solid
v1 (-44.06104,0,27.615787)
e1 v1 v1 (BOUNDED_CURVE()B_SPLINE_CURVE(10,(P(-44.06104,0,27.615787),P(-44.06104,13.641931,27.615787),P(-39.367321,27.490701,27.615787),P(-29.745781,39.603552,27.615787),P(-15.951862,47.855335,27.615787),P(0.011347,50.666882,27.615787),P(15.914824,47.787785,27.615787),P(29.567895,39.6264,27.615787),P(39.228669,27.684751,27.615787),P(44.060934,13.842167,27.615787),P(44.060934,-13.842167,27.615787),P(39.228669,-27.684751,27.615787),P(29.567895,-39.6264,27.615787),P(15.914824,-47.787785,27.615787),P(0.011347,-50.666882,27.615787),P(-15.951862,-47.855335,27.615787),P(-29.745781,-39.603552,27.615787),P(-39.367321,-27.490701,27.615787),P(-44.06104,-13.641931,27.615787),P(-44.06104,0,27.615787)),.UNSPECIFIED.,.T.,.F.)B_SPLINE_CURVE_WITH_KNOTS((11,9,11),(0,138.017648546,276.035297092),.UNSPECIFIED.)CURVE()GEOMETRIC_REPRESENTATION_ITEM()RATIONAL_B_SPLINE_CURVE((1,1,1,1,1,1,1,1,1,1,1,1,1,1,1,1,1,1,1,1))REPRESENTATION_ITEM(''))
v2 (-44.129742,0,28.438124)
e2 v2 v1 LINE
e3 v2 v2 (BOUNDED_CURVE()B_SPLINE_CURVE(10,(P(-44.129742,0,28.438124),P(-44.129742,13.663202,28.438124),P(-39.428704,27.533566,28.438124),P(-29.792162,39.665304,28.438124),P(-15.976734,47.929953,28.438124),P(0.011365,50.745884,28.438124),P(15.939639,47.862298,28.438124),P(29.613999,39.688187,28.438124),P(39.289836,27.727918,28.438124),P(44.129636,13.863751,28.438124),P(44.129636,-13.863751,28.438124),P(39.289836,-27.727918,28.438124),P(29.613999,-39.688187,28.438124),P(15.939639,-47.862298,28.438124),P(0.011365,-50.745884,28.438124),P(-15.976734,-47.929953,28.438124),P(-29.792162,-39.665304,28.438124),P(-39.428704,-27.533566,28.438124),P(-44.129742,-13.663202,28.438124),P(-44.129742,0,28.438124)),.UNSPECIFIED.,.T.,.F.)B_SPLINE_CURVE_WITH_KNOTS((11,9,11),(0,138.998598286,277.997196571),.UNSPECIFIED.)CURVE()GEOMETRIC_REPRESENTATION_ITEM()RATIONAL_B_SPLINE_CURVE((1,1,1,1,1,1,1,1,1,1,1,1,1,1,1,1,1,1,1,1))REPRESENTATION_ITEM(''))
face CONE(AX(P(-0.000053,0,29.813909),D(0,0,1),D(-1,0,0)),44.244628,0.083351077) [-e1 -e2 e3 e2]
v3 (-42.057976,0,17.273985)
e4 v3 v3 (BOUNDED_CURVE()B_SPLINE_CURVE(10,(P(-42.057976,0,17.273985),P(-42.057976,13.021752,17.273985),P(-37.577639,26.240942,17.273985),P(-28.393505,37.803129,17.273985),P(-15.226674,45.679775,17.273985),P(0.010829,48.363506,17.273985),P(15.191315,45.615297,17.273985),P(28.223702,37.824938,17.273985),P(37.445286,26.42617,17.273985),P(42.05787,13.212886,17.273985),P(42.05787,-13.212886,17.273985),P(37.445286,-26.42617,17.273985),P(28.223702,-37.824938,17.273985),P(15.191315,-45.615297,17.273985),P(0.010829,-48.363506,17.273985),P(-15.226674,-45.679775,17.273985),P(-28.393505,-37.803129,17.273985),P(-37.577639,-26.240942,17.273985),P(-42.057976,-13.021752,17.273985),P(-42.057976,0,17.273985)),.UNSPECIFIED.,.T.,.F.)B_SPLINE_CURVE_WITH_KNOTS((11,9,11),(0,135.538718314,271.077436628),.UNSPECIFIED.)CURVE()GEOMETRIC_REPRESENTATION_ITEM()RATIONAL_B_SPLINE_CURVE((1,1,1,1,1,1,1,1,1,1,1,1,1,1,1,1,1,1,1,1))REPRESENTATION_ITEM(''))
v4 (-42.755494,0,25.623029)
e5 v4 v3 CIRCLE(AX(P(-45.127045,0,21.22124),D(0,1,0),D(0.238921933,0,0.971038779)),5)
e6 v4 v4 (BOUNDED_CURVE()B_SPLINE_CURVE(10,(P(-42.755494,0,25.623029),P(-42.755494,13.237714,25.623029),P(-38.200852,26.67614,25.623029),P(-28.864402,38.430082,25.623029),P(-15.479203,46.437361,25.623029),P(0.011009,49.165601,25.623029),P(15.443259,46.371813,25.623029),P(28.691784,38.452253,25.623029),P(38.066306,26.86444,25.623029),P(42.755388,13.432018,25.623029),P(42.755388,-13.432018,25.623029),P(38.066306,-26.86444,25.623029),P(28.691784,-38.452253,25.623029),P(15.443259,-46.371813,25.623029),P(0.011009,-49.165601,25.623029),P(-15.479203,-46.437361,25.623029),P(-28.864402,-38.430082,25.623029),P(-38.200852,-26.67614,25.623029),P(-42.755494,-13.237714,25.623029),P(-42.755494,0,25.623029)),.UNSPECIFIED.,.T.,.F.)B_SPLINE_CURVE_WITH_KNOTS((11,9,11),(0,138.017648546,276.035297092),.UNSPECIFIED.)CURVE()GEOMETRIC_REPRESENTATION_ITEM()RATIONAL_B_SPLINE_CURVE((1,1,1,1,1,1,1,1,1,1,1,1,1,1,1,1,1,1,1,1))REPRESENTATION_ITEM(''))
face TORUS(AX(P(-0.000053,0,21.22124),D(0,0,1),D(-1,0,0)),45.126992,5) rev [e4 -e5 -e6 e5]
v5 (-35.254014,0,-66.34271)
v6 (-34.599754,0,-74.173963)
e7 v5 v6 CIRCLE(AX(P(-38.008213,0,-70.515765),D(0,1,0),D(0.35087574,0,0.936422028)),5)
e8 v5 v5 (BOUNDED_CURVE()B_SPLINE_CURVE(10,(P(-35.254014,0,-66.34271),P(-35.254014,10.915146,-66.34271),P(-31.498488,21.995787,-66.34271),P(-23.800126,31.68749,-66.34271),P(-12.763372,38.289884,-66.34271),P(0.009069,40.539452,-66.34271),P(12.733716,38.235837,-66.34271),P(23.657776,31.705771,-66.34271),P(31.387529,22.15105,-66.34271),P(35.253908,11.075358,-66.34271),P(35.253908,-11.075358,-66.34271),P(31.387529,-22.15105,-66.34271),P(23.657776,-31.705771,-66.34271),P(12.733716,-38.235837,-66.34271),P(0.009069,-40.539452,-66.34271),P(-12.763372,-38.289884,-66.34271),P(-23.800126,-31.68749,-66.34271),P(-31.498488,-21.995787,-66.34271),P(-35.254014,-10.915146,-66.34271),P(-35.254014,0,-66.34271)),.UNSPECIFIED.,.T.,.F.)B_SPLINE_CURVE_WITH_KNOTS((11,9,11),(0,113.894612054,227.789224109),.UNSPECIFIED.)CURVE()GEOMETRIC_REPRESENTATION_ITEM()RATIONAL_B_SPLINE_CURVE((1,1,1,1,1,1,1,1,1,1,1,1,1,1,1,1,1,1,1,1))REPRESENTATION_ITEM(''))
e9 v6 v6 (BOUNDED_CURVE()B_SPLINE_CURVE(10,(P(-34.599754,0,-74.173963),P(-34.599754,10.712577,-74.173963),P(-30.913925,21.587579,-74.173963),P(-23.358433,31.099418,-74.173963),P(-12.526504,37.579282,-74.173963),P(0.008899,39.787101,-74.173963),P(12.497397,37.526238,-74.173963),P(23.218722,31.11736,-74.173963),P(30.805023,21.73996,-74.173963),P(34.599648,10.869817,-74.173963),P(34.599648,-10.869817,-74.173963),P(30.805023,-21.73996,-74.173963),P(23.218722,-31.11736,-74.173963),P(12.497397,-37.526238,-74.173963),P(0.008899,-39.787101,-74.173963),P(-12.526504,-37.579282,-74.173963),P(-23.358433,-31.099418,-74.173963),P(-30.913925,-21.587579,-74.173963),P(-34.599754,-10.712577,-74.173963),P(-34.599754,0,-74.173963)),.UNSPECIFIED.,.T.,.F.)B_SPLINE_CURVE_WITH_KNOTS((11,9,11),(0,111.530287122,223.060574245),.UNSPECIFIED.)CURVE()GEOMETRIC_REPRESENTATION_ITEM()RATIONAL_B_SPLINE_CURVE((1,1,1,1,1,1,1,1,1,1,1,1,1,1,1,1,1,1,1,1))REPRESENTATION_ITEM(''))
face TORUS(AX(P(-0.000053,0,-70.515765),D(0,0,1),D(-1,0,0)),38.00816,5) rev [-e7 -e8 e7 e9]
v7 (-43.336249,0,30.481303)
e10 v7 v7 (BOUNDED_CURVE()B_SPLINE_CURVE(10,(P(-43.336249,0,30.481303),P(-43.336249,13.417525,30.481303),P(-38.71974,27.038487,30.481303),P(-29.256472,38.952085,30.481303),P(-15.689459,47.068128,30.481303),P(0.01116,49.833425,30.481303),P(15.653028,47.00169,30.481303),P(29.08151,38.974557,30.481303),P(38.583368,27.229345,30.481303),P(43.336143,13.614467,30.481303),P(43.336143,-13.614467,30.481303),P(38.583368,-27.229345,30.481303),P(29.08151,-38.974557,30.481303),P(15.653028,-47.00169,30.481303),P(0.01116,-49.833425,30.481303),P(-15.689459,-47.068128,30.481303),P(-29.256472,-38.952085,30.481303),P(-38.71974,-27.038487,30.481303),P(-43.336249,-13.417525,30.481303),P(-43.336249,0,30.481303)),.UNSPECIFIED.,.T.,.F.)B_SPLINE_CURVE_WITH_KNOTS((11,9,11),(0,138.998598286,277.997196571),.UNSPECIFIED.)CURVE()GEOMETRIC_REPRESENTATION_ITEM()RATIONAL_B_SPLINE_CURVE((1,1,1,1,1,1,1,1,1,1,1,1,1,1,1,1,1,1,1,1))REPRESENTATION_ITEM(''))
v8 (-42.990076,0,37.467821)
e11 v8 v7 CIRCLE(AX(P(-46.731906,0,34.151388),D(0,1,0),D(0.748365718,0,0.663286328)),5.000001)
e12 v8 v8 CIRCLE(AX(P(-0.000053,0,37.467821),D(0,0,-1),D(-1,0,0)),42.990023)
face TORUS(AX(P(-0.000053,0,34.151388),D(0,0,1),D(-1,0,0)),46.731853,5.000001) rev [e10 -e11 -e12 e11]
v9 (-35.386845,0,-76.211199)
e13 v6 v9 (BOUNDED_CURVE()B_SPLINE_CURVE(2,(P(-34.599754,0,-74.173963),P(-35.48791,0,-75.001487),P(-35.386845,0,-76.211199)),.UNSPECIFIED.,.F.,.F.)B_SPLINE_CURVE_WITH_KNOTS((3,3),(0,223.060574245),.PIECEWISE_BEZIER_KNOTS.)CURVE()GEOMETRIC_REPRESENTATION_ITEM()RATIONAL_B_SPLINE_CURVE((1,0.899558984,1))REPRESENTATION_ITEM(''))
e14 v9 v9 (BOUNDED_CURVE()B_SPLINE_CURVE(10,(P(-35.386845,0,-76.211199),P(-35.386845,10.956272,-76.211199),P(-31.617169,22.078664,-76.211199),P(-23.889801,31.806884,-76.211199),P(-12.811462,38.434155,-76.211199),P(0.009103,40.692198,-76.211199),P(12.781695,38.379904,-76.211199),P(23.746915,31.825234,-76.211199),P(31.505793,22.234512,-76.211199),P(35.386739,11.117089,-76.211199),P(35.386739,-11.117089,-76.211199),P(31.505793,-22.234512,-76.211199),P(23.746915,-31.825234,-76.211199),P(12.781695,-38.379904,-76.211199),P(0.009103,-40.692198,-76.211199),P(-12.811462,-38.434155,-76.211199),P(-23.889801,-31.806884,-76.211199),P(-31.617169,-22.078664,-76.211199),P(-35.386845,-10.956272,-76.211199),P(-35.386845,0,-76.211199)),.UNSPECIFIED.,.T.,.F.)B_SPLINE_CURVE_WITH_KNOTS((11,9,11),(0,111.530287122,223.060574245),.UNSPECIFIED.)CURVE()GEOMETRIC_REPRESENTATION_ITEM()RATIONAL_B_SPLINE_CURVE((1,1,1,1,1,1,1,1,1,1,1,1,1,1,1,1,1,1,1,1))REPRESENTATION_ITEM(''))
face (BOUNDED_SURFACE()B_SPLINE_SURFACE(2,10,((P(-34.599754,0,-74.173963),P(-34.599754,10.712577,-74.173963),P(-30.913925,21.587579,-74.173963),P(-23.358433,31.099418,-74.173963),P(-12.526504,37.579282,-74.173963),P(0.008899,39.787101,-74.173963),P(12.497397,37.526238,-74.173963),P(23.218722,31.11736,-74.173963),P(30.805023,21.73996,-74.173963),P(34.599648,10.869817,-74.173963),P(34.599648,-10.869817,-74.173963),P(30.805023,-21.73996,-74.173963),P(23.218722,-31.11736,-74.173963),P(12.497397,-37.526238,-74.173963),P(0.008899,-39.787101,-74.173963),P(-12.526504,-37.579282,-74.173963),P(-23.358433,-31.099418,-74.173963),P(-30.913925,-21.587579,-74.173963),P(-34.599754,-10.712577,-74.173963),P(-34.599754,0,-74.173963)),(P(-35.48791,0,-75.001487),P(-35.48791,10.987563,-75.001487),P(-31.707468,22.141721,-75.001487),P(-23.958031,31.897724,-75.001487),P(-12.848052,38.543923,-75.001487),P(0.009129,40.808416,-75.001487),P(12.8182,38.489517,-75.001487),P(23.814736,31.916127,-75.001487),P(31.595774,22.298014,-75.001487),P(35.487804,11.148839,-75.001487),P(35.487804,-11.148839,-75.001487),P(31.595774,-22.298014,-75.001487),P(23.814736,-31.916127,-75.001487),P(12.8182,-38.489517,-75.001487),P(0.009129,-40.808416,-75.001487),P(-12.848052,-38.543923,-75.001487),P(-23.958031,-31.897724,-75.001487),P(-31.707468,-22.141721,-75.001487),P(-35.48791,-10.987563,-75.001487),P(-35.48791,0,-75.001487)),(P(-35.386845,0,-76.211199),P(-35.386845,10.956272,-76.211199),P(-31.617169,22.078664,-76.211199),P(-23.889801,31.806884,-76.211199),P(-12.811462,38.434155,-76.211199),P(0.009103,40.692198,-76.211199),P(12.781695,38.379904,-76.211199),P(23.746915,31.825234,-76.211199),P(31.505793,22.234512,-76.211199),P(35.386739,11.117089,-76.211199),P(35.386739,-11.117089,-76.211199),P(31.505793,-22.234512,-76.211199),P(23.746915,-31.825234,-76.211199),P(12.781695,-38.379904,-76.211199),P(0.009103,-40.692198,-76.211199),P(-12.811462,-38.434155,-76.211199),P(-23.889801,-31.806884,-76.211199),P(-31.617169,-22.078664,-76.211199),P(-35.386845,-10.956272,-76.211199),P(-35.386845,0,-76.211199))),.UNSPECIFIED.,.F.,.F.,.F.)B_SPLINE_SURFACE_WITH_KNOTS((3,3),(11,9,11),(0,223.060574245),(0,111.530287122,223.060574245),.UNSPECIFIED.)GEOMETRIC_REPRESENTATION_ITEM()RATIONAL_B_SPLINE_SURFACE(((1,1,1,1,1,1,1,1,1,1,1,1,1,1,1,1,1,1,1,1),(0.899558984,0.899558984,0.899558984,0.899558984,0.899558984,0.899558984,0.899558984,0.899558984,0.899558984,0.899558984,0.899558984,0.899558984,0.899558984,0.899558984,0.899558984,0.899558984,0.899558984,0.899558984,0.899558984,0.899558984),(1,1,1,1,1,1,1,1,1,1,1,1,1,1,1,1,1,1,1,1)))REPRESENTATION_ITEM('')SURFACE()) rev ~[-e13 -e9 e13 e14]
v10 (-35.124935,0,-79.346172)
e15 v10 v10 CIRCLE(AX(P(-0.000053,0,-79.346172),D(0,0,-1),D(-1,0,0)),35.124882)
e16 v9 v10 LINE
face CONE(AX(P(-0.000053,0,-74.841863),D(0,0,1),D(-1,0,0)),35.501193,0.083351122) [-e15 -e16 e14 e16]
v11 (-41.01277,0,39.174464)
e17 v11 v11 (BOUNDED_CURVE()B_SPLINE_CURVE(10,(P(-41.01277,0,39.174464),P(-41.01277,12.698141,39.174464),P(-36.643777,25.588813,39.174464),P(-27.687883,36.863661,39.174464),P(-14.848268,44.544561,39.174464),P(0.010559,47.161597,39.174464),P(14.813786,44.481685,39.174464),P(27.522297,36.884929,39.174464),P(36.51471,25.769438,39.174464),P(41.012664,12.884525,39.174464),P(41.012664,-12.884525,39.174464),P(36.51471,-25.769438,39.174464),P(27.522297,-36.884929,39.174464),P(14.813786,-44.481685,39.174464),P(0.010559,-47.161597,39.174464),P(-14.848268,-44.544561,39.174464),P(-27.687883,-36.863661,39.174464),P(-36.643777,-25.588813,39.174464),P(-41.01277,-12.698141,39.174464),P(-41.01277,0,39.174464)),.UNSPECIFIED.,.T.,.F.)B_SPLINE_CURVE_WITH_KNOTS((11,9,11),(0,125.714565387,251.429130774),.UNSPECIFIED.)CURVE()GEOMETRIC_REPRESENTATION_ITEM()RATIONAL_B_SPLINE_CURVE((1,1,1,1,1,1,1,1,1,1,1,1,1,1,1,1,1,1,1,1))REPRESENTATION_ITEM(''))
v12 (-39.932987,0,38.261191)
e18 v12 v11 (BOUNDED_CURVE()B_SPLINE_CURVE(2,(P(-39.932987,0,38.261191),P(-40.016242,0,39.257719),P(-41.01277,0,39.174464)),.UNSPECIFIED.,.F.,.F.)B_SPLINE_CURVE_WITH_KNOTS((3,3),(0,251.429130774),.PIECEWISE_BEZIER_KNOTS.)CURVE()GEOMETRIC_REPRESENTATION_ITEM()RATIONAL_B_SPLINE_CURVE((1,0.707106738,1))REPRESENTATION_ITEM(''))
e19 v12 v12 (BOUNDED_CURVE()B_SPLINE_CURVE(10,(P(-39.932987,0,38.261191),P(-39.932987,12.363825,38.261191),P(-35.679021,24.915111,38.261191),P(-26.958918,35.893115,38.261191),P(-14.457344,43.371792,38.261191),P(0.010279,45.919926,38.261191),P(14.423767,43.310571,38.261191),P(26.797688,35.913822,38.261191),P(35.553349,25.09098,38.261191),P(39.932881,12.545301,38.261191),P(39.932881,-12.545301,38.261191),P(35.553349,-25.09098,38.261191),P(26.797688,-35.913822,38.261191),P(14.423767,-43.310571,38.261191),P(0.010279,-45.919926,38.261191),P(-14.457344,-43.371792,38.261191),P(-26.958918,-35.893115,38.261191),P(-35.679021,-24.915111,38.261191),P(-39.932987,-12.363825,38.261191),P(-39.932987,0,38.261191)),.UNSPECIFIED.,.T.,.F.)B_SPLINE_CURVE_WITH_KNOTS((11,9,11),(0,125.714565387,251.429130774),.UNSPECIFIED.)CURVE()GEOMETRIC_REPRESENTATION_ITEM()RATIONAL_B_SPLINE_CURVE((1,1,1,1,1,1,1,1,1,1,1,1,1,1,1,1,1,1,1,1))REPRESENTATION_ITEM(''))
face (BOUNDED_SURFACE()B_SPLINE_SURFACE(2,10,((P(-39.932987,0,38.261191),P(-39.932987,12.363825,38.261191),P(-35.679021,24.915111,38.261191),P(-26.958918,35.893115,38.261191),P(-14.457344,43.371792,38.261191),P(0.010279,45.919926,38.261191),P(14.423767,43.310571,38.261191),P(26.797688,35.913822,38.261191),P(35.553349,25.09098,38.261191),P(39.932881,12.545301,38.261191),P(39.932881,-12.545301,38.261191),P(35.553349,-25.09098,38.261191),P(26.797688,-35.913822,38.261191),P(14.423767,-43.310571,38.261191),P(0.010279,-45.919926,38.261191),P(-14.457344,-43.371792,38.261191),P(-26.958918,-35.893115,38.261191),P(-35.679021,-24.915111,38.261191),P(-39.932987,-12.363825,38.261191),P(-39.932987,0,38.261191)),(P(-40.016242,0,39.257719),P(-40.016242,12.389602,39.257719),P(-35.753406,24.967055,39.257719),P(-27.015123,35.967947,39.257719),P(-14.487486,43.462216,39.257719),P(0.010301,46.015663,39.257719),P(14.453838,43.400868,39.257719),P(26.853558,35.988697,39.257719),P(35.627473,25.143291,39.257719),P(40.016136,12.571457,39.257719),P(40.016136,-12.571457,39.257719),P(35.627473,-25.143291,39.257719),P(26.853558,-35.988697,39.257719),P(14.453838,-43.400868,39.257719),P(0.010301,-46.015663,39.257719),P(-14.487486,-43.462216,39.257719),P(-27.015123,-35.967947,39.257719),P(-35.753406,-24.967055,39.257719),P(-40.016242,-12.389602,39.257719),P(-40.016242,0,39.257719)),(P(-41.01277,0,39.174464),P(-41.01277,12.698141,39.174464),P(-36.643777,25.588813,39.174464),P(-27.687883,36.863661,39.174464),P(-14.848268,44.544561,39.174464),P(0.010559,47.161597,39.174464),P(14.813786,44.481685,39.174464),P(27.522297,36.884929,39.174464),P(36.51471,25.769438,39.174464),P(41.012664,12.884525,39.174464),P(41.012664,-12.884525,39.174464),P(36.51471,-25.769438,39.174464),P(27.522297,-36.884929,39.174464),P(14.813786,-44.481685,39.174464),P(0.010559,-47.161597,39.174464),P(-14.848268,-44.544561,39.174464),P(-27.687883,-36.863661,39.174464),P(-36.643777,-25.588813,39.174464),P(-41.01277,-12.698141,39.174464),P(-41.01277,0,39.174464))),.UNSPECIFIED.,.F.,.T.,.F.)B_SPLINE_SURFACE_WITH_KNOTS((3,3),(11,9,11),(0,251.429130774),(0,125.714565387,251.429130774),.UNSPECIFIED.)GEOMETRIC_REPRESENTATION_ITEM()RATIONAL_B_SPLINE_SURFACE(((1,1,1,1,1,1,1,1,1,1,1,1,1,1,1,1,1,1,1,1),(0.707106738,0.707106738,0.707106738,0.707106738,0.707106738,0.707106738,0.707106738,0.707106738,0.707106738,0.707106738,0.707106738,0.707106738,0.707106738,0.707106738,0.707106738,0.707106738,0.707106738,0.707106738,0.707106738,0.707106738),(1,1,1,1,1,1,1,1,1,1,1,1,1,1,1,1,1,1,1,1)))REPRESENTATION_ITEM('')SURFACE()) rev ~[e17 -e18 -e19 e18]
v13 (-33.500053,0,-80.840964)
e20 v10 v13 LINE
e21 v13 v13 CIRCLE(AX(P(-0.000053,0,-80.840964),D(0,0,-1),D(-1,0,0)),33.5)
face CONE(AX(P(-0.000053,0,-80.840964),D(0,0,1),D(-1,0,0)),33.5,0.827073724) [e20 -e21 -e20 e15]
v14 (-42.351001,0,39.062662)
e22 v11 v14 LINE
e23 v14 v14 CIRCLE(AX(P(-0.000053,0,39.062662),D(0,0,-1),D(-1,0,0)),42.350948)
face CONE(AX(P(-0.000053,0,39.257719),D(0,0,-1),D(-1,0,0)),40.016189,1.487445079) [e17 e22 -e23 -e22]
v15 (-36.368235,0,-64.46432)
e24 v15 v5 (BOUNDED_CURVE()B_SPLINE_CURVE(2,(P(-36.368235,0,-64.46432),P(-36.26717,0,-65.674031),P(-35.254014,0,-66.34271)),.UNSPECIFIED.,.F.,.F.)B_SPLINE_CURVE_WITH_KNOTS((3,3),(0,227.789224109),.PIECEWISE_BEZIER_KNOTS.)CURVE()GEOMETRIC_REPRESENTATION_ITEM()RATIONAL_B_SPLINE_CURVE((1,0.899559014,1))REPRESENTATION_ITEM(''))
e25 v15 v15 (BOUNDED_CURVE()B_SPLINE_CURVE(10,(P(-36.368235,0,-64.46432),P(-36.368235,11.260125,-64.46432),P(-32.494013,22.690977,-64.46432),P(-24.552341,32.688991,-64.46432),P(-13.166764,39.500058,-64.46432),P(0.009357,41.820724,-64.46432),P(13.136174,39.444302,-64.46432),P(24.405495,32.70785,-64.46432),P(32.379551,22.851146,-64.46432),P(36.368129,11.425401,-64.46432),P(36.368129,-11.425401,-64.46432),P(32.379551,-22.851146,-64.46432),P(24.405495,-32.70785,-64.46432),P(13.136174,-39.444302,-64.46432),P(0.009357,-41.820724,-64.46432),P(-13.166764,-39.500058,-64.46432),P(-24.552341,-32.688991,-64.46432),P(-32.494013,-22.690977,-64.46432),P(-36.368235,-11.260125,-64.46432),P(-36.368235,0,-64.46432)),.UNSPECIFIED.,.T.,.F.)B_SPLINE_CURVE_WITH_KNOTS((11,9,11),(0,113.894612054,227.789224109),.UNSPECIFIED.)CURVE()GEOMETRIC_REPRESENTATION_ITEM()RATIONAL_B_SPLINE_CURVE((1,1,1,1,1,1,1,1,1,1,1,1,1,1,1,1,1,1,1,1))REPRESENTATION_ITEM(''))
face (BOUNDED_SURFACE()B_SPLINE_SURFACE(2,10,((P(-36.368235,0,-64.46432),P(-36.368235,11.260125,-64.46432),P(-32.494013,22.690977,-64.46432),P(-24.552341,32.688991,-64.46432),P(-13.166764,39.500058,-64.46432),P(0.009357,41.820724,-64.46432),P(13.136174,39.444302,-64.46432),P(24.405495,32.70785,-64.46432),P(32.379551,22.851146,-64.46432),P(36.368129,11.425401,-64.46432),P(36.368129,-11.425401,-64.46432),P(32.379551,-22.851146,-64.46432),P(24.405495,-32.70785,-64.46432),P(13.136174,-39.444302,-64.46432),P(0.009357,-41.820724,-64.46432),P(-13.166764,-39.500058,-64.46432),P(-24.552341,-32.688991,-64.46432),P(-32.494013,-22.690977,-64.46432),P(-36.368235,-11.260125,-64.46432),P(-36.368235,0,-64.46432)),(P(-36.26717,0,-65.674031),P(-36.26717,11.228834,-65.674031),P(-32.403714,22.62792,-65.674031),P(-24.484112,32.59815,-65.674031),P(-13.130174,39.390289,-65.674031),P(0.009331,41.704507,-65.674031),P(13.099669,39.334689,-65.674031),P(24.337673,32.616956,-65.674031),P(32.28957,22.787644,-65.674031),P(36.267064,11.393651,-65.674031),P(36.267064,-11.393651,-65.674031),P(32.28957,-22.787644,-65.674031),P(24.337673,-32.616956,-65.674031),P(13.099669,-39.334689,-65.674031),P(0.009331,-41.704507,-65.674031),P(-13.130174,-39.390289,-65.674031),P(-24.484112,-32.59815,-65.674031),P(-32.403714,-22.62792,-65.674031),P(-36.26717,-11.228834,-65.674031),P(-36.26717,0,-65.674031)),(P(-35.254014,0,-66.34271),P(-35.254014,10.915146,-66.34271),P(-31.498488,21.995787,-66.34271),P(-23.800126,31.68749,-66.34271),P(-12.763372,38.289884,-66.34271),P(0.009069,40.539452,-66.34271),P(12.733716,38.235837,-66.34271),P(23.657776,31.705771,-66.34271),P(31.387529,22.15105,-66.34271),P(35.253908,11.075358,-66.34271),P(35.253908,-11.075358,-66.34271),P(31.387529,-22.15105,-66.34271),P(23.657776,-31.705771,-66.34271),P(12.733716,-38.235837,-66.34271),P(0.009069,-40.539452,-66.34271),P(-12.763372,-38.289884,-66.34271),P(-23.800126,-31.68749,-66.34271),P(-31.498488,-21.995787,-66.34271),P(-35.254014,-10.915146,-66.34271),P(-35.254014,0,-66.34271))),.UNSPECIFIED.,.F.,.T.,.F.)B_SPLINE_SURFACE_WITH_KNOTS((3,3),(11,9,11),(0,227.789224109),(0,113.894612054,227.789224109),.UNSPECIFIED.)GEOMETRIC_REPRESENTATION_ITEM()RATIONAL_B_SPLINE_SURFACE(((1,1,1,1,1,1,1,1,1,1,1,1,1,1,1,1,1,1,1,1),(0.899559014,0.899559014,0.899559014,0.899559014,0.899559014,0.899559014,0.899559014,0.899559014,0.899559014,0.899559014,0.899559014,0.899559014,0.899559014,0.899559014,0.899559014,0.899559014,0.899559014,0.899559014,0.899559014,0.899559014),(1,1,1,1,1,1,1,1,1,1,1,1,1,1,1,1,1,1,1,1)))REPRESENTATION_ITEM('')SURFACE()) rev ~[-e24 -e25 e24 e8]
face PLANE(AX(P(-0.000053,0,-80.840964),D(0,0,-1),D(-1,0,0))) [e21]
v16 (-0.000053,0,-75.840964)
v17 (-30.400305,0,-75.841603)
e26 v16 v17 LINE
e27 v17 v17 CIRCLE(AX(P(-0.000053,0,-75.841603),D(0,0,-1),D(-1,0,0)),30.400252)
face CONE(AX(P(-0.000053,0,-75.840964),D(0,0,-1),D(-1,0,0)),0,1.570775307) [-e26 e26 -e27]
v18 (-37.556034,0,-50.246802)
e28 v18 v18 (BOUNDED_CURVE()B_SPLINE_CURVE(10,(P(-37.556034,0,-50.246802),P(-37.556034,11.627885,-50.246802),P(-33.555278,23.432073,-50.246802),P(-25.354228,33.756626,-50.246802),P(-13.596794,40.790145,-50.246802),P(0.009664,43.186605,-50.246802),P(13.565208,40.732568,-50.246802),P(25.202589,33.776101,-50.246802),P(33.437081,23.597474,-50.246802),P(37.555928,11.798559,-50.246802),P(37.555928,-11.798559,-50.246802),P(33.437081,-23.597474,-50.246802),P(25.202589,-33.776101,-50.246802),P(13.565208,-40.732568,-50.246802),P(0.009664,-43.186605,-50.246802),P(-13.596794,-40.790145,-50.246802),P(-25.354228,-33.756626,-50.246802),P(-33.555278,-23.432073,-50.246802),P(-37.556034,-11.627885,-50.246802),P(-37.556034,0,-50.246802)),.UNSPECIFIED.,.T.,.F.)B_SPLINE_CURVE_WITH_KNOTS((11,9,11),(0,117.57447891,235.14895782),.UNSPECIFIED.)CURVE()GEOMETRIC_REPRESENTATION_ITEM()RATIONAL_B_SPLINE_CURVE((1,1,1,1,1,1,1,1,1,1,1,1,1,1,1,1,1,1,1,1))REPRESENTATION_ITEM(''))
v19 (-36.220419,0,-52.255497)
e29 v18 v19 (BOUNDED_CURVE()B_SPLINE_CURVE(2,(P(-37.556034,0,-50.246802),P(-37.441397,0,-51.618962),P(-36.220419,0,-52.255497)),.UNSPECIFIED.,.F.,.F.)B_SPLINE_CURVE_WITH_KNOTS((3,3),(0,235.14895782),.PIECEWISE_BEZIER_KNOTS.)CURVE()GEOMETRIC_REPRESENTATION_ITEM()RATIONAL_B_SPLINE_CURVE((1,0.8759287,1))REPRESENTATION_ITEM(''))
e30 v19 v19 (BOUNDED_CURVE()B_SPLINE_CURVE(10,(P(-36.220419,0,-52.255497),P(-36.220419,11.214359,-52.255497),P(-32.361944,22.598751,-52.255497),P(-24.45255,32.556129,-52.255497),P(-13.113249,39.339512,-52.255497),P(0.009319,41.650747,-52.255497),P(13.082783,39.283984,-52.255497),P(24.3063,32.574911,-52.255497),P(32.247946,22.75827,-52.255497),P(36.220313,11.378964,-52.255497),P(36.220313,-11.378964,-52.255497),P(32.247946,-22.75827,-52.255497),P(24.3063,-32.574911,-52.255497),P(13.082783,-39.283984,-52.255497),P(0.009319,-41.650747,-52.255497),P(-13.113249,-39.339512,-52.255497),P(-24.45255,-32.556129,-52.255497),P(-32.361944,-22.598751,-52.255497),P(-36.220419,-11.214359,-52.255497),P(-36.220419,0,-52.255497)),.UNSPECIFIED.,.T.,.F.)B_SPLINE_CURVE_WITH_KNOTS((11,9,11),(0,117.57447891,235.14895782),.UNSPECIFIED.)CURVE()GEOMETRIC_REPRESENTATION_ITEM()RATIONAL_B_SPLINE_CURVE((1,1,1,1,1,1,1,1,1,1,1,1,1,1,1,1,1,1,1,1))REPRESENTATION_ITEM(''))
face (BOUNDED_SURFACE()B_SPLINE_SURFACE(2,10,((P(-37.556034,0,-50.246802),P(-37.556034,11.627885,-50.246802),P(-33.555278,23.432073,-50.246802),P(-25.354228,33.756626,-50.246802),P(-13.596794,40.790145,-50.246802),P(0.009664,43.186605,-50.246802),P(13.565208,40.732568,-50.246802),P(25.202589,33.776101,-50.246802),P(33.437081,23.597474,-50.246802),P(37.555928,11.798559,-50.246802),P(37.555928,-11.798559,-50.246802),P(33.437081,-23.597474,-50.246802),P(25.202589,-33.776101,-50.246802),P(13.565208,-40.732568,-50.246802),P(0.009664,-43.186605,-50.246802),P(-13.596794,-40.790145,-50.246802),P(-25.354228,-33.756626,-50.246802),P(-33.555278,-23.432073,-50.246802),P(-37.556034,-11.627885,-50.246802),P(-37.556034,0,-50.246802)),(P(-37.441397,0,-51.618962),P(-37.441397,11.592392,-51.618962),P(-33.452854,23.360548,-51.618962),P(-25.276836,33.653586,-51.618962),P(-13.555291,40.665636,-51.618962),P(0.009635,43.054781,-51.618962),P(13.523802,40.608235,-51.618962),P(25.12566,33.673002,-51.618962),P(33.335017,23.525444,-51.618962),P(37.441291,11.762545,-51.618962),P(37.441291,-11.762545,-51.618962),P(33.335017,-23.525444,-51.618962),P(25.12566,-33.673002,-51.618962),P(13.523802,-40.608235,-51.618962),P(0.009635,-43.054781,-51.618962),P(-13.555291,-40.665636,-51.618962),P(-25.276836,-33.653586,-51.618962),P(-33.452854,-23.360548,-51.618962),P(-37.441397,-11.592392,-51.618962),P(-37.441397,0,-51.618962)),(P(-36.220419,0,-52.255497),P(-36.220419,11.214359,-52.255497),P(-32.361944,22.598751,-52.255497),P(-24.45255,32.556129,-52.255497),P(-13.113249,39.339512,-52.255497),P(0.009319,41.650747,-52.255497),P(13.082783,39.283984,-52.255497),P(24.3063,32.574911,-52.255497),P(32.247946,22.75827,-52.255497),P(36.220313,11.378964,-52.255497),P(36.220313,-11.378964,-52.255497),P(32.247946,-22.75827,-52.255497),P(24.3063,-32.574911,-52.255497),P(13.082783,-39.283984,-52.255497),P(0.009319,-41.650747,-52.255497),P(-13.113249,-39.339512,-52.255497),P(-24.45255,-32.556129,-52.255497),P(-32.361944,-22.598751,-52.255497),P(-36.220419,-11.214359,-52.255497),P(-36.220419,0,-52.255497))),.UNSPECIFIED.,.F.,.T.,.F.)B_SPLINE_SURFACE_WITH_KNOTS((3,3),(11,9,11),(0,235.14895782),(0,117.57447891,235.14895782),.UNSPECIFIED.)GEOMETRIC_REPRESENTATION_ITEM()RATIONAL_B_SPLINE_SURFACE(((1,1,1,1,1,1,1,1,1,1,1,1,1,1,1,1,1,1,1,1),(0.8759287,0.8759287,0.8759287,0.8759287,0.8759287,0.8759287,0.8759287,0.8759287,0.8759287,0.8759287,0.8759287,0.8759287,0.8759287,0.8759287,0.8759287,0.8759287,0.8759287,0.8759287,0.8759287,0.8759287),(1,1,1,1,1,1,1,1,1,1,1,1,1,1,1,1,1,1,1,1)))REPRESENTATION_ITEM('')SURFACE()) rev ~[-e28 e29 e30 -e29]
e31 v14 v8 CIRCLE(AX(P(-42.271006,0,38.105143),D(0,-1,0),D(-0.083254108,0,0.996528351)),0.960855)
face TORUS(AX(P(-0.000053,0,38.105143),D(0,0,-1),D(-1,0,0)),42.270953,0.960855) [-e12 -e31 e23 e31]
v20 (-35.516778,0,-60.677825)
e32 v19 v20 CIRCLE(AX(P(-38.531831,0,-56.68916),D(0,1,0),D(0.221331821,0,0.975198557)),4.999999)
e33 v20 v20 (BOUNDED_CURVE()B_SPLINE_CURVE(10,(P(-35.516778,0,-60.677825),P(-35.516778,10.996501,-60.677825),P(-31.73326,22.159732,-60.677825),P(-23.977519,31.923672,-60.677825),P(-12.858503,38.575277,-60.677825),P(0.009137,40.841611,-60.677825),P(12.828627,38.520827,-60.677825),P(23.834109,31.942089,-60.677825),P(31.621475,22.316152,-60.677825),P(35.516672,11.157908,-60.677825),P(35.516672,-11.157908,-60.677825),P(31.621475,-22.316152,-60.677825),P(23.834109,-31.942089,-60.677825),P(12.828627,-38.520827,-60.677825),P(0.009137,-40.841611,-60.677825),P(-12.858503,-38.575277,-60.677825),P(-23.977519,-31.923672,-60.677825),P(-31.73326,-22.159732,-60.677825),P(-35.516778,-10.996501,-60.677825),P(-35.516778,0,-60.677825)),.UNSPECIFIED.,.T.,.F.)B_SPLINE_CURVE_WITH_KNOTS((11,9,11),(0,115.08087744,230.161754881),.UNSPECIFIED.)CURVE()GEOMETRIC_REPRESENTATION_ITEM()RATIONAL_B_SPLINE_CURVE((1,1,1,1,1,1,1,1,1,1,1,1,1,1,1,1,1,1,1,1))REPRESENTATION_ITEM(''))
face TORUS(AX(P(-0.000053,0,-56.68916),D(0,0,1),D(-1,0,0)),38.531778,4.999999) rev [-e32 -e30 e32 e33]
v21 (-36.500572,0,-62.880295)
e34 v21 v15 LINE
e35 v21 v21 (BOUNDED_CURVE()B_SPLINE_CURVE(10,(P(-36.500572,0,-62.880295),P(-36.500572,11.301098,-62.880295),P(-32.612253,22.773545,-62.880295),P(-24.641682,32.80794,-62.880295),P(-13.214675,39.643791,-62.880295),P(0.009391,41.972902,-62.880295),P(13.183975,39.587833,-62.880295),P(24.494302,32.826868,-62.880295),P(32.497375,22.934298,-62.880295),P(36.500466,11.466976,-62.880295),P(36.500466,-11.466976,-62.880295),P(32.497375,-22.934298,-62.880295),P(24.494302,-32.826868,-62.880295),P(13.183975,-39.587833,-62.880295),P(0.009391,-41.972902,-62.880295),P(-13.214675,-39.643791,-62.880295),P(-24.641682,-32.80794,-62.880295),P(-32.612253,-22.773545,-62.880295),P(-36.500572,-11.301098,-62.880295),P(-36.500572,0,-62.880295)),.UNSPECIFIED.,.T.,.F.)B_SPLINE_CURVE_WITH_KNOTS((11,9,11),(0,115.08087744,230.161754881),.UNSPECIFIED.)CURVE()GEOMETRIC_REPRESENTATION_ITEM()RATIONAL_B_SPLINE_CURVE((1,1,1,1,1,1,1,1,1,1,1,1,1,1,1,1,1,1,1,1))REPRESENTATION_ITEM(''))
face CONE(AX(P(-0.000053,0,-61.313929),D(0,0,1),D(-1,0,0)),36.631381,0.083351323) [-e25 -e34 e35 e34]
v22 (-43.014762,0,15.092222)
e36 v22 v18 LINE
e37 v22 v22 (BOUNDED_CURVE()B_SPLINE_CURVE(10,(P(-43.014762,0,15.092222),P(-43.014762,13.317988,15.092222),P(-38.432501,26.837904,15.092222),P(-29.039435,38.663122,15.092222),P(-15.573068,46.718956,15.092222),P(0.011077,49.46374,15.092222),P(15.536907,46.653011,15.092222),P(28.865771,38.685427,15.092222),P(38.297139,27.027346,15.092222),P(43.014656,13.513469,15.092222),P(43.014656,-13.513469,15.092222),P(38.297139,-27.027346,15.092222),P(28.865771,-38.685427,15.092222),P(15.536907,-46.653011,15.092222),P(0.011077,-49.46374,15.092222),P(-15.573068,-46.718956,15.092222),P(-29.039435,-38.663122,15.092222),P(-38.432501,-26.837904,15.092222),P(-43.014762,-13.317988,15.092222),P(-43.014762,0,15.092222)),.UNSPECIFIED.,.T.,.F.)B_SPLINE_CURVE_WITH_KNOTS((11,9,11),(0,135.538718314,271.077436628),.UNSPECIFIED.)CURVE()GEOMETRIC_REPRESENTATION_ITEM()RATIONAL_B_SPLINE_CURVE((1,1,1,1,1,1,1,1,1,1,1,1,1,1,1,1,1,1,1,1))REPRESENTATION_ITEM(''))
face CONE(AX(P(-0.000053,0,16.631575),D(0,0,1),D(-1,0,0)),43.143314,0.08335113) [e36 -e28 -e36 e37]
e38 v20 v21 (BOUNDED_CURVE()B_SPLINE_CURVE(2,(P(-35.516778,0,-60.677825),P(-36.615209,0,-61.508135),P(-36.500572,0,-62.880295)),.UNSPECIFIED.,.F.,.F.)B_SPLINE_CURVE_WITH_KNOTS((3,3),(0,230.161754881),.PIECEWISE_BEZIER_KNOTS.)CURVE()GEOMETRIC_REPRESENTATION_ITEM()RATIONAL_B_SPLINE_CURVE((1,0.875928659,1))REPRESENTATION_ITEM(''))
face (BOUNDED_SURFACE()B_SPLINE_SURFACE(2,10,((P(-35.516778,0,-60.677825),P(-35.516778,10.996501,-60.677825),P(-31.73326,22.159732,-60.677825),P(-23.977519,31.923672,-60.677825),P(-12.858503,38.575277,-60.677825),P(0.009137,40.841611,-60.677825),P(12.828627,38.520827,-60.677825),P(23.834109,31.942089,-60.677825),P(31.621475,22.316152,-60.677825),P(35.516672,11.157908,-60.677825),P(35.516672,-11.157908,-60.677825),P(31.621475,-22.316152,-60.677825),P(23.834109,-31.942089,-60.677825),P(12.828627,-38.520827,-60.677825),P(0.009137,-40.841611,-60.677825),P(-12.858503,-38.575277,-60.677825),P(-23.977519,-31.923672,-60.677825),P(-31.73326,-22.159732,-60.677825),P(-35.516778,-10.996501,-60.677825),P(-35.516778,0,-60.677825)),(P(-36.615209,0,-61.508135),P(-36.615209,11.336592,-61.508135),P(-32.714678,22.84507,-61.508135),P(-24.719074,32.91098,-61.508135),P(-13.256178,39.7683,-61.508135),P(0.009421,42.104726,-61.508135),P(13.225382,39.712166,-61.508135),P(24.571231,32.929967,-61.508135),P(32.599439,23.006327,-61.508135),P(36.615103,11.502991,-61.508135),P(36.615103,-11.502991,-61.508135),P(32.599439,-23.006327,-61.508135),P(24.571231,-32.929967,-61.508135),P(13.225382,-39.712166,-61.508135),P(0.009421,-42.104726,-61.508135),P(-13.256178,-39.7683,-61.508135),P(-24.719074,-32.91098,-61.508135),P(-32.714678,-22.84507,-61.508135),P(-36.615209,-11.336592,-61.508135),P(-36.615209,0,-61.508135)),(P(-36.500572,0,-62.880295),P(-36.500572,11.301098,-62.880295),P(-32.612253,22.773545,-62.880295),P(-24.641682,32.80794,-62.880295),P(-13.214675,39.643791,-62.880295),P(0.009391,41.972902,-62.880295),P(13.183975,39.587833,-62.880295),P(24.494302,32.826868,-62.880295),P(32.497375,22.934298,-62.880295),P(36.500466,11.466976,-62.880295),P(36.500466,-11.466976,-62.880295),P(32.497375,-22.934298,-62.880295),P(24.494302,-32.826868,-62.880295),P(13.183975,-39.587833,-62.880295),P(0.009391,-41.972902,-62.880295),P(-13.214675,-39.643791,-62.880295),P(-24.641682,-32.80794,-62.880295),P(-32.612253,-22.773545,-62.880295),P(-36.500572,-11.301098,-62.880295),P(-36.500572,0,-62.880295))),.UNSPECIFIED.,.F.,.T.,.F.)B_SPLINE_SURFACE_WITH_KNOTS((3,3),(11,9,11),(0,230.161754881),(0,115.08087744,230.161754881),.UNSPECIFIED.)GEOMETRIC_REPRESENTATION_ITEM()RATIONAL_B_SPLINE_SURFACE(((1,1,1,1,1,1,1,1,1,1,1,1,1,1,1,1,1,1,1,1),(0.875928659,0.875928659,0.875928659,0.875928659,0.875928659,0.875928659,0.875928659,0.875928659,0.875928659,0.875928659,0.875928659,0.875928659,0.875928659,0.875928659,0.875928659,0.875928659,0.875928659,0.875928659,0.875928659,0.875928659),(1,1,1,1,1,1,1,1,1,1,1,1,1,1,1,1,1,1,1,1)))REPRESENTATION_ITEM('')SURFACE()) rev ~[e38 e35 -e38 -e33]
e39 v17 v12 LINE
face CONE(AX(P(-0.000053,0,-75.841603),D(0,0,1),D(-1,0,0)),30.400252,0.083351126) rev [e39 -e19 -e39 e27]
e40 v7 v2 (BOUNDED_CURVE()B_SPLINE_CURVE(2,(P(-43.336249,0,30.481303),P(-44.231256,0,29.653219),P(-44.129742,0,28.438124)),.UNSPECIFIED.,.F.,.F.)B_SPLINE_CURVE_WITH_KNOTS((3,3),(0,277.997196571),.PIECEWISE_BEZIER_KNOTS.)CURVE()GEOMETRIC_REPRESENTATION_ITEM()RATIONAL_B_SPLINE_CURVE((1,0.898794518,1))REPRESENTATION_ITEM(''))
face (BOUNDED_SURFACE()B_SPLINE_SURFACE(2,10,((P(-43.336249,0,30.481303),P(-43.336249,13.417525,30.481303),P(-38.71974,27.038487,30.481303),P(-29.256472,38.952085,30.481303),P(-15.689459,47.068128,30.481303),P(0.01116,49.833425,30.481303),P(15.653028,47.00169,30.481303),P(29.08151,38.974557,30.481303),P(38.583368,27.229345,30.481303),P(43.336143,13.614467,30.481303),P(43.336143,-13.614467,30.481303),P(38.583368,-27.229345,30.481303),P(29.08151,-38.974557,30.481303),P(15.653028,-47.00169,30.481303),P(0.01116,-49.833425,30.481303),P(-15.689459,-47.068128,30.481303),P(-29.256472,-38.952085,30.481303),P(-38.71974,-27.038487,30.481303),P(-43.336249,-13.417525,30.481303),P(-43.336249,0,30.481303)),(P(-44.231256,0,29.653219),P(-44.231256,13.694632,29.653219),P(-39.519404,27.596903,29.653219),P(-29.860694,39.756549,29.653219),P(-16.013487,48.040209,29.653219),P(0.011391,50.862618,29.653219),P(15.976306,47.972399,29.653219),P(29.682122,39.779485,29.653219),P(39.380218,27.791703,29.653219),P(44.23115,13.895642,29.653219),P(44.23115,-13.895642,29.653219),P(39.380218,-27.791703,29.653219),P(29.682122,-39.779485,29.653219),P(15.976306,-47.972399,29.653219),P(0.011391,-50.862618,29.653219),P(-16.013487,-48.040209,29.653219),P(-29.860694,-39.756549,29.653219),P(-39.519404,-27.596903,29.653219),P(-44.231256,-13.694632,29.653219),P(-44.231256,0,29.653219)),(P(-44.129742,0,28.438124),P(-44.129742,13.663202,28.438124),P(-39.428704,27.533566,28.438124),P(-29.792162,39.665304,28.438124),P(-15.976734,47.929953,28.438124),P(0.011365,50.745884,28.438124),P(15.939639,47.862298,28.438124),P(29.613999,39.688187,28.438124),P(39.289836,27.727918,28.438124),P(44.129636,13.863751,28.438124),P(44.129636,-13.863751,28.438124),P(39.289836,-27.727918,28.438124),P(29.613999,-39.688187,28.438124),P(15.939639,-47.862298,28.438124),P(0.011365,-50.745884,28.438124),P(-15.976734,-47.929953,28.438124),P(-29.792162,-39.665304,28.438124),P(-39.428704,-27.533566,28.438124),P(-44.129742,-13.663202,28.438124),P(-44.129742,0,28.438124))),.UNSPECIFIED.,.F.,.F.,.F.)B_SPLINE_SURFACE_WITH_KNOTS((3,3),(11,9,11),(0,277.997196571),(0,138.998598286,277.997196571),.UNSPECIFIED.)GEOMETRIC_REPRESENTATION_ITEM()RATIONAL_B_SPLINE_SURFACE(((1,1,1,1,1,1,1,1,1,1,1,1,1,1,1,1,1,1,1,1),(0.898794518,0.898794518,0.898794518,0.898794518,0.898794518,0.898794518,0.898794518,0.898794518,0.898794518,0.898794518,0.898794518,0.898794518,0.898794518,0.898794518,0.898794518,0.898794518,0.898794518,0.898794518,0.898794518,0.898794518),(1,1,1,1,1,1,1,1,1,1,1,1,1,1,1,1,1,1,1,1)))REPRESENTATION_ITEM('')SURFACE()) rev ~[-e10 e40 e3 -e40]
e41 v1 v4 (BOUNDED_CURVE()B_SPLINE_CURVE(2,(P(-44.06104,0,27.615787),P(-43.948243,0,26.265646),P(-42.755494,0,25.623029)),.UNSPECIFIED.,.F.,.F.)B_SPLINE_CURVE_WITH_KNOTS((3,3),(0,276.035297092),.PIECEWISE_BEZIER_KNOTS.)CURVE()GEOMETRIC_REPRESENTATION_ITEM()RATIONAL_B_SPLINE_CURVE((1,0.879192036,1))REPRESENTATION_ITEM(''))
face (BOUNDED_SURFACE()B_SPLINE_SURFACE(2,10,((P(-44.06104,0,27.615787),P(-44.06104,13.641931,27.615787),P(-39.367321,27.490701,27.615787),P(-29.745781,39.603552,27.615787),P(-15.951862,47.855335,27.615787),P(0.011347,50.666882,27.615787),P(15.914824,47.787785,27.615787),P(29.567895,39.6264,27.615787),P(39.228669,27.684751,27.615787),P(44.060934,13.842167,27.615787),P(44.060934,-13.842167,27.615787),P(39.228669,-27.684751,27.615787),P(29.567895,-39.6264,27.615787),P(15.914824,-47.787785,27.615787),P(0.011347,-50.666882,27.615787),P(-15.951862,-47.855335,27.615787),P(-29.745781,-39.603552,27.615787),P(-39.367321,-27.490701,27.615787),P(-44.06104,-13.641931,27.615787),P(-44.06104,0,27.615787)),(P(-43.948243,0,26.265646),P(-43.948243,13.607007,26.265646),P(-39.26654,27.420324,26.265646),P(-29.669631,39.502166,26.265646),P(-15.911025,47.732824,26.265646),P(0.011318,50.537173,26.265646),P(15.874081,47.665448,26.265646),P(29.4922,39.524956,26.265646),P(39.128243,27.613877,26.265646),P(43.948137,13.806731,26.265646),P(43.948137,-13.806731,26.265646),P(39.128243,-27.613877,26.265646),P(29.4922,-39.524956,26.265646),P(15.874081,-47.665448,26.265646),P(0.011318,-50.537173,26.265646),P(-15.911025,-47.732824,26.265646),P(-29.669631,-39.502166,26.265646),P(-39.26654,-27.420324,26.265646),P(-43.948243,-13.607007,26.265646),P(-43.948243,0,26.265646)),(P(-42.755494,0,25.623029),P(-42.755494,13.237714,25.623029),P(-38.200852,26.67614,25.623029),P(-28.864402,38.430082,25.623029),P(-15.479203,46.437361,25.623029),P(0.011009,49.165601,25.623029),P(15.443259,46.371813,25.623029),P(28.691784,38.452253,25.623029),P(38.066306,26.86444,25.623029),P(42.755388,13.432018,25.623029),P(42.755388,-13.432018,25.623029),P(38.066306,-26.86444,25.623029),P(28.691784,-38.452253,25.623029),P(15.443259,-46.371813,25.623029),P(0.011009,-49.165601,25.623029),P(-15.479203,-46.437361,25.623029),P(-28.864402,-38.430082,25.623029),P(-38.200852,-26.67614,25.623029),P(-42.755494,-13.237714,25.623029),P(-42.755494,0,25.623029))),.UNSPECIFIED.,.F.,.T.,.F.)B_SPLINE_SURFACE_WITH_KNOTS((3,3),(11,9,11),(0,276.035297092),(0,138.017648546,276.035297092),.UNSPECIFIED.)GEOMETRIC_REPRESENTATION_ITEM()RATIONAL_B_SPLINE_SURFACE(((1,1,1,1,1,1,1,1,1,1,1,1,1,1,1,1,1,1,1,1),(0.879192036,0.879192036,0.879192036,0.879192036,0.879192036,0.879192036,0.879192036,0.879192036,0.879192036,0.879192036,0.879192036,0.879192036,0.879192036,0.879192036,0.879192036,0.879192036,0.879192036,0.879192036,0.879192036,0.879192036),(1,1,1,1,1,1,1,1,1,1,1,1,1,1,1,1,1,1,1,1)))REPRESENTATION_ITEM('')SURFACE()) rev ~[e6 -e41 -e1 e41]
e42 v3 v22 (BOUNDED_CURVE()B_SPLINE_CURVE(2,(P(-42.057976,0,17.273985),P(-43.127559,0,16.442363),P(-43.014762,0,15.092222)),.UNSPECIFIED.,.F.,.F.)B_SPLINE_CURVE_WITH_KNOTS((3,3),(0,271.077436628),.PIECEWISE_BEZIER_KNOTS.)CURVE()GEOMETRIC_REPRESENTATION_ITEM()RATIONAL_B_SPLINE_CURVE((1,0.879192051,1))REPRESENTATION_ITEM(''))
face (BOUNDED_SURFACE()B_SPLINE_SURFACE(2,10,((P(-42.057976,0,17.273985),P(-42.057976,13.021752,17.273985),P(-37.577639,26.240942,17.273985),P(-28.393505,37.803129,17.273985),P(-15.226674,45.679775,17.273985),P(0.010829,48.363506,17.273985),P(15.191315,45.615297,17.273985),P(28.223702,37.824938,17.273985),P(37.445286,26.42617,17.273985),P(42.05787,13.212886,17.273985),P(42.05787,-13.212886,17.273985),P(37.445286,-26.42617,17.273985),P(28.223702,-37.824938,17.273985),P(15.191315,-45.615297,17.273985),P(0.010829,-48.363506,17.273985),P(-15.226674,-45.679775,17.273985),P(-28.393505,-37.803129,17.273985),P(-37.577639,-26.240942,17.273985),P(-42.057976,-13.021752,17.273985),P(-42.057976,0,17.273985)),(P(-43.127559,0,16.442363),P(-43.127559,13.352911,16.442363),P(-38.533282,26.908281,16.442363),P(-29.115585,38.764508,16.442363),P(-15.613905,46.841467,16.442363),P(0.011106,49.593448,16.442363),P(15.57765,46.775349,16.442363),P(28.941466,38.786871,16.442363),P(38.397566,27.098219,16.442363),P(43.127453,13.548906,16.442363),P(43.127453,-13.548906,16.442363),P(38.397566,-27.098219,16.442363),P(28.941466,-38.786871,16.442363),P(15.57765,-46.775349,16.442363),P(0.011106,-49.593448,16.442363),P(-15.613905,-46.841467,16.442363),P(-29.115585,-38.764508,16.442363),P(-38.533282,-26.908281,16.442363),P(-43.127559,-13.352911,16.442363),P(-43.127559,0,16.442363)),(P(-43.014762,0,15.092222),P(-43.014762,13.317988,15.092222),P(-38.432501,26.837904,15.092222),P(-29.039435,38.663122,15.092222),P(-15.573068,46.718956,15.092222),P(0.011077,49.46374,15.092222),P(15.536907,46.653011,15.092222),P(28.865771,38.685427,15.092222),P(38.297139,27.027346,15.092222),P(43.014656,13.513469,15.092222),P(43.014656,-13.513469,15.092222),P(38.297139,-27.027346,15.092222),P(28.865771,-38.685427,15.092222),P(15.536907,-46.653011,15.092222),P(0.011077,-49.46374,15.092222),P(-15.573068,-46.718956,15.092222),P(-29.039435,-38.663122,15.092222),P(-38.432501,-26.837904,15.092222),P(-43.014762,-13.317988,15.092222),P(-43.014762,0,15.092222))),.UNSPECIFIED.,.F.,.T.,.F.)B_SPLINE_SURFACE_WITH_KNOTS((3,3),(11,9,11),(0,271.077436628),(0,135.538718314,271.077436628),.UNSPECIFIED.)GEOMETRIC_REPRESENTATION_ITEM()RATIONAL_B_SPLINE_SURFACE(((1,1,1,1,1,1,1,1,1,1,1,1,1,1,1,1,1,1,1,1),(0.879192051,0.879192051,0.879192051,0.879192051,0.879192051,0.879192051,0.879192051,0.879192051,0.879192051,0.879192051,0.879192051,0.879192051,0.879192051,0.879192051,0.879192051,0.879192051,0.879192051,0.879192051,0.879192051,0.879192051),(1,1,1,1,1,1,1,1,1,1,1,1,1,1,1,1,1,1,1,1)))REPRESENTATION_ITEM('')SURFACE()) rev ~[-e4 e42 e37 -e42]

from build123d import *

# Parameters (mm, degrees)
F2_R    = 1
F3_R    = 2.5
F4_SIZE = 1.5


with BuildPart() as f1:
    # F0 (on Front) → F1 (revolve)
    with BuildSketch(Plane.XZ):
        with BuildLine():
            Line((-35.000053, -80.840964), (-5.3e-05, -80.840964))
            Line((-5.3e-05, -80.840964), (-5.3e-05, -75.840964))
            Line((-5.3e-05, -75.840964), (-30.400305, -75.841603))
            Line((-30.400305, -75.841603), (-40.016242, 39.257719))
            Line((-40.016242, 39.257719), (-42.351001, 39.062662))
            ThreePointArc((-42.351001, 39.062662), (-43.162917, 38.462545), (-42.990076, 37.467821))
            ThreePointArc((-42.990076, 37.467821), (-41.797752, 33.342598), (-44.244681, 29.813909))
            Line((-44.244681, 29.813909), (-43.932435, 26.076434))
            ThreePointArc((-43.932435, 26.076434), (-40.144403, 21.637513), (-43.143367, 16.631575))
            Line((-43.143367, 16.631575), (-37.425172, -51.813168))
            ThreePointArc((-37.425172, -51.813168), (-33.54919, -56.272887), (-36.631434, -61.313929))
            Line((-36.631434, -61.313929), (-36.253834, -65.833655))
            ThreePointArc((-36.253834, -65.833655), (-33.025571, -70.099492), (-35.501246, -74.841863))
            Line((-35.501246, -74.841863), (-35.000053, -80.840964))
        make_face()
    revolve(axis=Axis((-5.3e-05, 0, -78.340964), (0, 0, -1)))

    # F2
    f2_edges = [f1.edges().sort_by_distance(p)[0] for p in [
        (40.016135, 0, 39.257719),
    ]]
    fillet(f2_edges, radius=F2_R)

    # F3
    f3_edges = [f1.edges().sort_by_distance(p)[0] for p in [
        (44.244574, 0, 29.813909),
        (43.932328, 0, 26.076434),
        (43.14326, 0, 16.631575),
        (37.425065, 0, -51.813168),
        (36.631327, 0, -61.313929),
        (36.253728, 0, -65.833655),
        (35.50114, 0, -74.841863),
    ]]
    fillet(f3_edges, radius=F3_R)

    # F4
    f4_edges = [f1.edges().sort_by_distance(p)[0] for p in [
        (34.999947, 0, -80.840964),
    ]]
    chamfer(f4_edges, length=F4_SIZE)


solid = f1.part
